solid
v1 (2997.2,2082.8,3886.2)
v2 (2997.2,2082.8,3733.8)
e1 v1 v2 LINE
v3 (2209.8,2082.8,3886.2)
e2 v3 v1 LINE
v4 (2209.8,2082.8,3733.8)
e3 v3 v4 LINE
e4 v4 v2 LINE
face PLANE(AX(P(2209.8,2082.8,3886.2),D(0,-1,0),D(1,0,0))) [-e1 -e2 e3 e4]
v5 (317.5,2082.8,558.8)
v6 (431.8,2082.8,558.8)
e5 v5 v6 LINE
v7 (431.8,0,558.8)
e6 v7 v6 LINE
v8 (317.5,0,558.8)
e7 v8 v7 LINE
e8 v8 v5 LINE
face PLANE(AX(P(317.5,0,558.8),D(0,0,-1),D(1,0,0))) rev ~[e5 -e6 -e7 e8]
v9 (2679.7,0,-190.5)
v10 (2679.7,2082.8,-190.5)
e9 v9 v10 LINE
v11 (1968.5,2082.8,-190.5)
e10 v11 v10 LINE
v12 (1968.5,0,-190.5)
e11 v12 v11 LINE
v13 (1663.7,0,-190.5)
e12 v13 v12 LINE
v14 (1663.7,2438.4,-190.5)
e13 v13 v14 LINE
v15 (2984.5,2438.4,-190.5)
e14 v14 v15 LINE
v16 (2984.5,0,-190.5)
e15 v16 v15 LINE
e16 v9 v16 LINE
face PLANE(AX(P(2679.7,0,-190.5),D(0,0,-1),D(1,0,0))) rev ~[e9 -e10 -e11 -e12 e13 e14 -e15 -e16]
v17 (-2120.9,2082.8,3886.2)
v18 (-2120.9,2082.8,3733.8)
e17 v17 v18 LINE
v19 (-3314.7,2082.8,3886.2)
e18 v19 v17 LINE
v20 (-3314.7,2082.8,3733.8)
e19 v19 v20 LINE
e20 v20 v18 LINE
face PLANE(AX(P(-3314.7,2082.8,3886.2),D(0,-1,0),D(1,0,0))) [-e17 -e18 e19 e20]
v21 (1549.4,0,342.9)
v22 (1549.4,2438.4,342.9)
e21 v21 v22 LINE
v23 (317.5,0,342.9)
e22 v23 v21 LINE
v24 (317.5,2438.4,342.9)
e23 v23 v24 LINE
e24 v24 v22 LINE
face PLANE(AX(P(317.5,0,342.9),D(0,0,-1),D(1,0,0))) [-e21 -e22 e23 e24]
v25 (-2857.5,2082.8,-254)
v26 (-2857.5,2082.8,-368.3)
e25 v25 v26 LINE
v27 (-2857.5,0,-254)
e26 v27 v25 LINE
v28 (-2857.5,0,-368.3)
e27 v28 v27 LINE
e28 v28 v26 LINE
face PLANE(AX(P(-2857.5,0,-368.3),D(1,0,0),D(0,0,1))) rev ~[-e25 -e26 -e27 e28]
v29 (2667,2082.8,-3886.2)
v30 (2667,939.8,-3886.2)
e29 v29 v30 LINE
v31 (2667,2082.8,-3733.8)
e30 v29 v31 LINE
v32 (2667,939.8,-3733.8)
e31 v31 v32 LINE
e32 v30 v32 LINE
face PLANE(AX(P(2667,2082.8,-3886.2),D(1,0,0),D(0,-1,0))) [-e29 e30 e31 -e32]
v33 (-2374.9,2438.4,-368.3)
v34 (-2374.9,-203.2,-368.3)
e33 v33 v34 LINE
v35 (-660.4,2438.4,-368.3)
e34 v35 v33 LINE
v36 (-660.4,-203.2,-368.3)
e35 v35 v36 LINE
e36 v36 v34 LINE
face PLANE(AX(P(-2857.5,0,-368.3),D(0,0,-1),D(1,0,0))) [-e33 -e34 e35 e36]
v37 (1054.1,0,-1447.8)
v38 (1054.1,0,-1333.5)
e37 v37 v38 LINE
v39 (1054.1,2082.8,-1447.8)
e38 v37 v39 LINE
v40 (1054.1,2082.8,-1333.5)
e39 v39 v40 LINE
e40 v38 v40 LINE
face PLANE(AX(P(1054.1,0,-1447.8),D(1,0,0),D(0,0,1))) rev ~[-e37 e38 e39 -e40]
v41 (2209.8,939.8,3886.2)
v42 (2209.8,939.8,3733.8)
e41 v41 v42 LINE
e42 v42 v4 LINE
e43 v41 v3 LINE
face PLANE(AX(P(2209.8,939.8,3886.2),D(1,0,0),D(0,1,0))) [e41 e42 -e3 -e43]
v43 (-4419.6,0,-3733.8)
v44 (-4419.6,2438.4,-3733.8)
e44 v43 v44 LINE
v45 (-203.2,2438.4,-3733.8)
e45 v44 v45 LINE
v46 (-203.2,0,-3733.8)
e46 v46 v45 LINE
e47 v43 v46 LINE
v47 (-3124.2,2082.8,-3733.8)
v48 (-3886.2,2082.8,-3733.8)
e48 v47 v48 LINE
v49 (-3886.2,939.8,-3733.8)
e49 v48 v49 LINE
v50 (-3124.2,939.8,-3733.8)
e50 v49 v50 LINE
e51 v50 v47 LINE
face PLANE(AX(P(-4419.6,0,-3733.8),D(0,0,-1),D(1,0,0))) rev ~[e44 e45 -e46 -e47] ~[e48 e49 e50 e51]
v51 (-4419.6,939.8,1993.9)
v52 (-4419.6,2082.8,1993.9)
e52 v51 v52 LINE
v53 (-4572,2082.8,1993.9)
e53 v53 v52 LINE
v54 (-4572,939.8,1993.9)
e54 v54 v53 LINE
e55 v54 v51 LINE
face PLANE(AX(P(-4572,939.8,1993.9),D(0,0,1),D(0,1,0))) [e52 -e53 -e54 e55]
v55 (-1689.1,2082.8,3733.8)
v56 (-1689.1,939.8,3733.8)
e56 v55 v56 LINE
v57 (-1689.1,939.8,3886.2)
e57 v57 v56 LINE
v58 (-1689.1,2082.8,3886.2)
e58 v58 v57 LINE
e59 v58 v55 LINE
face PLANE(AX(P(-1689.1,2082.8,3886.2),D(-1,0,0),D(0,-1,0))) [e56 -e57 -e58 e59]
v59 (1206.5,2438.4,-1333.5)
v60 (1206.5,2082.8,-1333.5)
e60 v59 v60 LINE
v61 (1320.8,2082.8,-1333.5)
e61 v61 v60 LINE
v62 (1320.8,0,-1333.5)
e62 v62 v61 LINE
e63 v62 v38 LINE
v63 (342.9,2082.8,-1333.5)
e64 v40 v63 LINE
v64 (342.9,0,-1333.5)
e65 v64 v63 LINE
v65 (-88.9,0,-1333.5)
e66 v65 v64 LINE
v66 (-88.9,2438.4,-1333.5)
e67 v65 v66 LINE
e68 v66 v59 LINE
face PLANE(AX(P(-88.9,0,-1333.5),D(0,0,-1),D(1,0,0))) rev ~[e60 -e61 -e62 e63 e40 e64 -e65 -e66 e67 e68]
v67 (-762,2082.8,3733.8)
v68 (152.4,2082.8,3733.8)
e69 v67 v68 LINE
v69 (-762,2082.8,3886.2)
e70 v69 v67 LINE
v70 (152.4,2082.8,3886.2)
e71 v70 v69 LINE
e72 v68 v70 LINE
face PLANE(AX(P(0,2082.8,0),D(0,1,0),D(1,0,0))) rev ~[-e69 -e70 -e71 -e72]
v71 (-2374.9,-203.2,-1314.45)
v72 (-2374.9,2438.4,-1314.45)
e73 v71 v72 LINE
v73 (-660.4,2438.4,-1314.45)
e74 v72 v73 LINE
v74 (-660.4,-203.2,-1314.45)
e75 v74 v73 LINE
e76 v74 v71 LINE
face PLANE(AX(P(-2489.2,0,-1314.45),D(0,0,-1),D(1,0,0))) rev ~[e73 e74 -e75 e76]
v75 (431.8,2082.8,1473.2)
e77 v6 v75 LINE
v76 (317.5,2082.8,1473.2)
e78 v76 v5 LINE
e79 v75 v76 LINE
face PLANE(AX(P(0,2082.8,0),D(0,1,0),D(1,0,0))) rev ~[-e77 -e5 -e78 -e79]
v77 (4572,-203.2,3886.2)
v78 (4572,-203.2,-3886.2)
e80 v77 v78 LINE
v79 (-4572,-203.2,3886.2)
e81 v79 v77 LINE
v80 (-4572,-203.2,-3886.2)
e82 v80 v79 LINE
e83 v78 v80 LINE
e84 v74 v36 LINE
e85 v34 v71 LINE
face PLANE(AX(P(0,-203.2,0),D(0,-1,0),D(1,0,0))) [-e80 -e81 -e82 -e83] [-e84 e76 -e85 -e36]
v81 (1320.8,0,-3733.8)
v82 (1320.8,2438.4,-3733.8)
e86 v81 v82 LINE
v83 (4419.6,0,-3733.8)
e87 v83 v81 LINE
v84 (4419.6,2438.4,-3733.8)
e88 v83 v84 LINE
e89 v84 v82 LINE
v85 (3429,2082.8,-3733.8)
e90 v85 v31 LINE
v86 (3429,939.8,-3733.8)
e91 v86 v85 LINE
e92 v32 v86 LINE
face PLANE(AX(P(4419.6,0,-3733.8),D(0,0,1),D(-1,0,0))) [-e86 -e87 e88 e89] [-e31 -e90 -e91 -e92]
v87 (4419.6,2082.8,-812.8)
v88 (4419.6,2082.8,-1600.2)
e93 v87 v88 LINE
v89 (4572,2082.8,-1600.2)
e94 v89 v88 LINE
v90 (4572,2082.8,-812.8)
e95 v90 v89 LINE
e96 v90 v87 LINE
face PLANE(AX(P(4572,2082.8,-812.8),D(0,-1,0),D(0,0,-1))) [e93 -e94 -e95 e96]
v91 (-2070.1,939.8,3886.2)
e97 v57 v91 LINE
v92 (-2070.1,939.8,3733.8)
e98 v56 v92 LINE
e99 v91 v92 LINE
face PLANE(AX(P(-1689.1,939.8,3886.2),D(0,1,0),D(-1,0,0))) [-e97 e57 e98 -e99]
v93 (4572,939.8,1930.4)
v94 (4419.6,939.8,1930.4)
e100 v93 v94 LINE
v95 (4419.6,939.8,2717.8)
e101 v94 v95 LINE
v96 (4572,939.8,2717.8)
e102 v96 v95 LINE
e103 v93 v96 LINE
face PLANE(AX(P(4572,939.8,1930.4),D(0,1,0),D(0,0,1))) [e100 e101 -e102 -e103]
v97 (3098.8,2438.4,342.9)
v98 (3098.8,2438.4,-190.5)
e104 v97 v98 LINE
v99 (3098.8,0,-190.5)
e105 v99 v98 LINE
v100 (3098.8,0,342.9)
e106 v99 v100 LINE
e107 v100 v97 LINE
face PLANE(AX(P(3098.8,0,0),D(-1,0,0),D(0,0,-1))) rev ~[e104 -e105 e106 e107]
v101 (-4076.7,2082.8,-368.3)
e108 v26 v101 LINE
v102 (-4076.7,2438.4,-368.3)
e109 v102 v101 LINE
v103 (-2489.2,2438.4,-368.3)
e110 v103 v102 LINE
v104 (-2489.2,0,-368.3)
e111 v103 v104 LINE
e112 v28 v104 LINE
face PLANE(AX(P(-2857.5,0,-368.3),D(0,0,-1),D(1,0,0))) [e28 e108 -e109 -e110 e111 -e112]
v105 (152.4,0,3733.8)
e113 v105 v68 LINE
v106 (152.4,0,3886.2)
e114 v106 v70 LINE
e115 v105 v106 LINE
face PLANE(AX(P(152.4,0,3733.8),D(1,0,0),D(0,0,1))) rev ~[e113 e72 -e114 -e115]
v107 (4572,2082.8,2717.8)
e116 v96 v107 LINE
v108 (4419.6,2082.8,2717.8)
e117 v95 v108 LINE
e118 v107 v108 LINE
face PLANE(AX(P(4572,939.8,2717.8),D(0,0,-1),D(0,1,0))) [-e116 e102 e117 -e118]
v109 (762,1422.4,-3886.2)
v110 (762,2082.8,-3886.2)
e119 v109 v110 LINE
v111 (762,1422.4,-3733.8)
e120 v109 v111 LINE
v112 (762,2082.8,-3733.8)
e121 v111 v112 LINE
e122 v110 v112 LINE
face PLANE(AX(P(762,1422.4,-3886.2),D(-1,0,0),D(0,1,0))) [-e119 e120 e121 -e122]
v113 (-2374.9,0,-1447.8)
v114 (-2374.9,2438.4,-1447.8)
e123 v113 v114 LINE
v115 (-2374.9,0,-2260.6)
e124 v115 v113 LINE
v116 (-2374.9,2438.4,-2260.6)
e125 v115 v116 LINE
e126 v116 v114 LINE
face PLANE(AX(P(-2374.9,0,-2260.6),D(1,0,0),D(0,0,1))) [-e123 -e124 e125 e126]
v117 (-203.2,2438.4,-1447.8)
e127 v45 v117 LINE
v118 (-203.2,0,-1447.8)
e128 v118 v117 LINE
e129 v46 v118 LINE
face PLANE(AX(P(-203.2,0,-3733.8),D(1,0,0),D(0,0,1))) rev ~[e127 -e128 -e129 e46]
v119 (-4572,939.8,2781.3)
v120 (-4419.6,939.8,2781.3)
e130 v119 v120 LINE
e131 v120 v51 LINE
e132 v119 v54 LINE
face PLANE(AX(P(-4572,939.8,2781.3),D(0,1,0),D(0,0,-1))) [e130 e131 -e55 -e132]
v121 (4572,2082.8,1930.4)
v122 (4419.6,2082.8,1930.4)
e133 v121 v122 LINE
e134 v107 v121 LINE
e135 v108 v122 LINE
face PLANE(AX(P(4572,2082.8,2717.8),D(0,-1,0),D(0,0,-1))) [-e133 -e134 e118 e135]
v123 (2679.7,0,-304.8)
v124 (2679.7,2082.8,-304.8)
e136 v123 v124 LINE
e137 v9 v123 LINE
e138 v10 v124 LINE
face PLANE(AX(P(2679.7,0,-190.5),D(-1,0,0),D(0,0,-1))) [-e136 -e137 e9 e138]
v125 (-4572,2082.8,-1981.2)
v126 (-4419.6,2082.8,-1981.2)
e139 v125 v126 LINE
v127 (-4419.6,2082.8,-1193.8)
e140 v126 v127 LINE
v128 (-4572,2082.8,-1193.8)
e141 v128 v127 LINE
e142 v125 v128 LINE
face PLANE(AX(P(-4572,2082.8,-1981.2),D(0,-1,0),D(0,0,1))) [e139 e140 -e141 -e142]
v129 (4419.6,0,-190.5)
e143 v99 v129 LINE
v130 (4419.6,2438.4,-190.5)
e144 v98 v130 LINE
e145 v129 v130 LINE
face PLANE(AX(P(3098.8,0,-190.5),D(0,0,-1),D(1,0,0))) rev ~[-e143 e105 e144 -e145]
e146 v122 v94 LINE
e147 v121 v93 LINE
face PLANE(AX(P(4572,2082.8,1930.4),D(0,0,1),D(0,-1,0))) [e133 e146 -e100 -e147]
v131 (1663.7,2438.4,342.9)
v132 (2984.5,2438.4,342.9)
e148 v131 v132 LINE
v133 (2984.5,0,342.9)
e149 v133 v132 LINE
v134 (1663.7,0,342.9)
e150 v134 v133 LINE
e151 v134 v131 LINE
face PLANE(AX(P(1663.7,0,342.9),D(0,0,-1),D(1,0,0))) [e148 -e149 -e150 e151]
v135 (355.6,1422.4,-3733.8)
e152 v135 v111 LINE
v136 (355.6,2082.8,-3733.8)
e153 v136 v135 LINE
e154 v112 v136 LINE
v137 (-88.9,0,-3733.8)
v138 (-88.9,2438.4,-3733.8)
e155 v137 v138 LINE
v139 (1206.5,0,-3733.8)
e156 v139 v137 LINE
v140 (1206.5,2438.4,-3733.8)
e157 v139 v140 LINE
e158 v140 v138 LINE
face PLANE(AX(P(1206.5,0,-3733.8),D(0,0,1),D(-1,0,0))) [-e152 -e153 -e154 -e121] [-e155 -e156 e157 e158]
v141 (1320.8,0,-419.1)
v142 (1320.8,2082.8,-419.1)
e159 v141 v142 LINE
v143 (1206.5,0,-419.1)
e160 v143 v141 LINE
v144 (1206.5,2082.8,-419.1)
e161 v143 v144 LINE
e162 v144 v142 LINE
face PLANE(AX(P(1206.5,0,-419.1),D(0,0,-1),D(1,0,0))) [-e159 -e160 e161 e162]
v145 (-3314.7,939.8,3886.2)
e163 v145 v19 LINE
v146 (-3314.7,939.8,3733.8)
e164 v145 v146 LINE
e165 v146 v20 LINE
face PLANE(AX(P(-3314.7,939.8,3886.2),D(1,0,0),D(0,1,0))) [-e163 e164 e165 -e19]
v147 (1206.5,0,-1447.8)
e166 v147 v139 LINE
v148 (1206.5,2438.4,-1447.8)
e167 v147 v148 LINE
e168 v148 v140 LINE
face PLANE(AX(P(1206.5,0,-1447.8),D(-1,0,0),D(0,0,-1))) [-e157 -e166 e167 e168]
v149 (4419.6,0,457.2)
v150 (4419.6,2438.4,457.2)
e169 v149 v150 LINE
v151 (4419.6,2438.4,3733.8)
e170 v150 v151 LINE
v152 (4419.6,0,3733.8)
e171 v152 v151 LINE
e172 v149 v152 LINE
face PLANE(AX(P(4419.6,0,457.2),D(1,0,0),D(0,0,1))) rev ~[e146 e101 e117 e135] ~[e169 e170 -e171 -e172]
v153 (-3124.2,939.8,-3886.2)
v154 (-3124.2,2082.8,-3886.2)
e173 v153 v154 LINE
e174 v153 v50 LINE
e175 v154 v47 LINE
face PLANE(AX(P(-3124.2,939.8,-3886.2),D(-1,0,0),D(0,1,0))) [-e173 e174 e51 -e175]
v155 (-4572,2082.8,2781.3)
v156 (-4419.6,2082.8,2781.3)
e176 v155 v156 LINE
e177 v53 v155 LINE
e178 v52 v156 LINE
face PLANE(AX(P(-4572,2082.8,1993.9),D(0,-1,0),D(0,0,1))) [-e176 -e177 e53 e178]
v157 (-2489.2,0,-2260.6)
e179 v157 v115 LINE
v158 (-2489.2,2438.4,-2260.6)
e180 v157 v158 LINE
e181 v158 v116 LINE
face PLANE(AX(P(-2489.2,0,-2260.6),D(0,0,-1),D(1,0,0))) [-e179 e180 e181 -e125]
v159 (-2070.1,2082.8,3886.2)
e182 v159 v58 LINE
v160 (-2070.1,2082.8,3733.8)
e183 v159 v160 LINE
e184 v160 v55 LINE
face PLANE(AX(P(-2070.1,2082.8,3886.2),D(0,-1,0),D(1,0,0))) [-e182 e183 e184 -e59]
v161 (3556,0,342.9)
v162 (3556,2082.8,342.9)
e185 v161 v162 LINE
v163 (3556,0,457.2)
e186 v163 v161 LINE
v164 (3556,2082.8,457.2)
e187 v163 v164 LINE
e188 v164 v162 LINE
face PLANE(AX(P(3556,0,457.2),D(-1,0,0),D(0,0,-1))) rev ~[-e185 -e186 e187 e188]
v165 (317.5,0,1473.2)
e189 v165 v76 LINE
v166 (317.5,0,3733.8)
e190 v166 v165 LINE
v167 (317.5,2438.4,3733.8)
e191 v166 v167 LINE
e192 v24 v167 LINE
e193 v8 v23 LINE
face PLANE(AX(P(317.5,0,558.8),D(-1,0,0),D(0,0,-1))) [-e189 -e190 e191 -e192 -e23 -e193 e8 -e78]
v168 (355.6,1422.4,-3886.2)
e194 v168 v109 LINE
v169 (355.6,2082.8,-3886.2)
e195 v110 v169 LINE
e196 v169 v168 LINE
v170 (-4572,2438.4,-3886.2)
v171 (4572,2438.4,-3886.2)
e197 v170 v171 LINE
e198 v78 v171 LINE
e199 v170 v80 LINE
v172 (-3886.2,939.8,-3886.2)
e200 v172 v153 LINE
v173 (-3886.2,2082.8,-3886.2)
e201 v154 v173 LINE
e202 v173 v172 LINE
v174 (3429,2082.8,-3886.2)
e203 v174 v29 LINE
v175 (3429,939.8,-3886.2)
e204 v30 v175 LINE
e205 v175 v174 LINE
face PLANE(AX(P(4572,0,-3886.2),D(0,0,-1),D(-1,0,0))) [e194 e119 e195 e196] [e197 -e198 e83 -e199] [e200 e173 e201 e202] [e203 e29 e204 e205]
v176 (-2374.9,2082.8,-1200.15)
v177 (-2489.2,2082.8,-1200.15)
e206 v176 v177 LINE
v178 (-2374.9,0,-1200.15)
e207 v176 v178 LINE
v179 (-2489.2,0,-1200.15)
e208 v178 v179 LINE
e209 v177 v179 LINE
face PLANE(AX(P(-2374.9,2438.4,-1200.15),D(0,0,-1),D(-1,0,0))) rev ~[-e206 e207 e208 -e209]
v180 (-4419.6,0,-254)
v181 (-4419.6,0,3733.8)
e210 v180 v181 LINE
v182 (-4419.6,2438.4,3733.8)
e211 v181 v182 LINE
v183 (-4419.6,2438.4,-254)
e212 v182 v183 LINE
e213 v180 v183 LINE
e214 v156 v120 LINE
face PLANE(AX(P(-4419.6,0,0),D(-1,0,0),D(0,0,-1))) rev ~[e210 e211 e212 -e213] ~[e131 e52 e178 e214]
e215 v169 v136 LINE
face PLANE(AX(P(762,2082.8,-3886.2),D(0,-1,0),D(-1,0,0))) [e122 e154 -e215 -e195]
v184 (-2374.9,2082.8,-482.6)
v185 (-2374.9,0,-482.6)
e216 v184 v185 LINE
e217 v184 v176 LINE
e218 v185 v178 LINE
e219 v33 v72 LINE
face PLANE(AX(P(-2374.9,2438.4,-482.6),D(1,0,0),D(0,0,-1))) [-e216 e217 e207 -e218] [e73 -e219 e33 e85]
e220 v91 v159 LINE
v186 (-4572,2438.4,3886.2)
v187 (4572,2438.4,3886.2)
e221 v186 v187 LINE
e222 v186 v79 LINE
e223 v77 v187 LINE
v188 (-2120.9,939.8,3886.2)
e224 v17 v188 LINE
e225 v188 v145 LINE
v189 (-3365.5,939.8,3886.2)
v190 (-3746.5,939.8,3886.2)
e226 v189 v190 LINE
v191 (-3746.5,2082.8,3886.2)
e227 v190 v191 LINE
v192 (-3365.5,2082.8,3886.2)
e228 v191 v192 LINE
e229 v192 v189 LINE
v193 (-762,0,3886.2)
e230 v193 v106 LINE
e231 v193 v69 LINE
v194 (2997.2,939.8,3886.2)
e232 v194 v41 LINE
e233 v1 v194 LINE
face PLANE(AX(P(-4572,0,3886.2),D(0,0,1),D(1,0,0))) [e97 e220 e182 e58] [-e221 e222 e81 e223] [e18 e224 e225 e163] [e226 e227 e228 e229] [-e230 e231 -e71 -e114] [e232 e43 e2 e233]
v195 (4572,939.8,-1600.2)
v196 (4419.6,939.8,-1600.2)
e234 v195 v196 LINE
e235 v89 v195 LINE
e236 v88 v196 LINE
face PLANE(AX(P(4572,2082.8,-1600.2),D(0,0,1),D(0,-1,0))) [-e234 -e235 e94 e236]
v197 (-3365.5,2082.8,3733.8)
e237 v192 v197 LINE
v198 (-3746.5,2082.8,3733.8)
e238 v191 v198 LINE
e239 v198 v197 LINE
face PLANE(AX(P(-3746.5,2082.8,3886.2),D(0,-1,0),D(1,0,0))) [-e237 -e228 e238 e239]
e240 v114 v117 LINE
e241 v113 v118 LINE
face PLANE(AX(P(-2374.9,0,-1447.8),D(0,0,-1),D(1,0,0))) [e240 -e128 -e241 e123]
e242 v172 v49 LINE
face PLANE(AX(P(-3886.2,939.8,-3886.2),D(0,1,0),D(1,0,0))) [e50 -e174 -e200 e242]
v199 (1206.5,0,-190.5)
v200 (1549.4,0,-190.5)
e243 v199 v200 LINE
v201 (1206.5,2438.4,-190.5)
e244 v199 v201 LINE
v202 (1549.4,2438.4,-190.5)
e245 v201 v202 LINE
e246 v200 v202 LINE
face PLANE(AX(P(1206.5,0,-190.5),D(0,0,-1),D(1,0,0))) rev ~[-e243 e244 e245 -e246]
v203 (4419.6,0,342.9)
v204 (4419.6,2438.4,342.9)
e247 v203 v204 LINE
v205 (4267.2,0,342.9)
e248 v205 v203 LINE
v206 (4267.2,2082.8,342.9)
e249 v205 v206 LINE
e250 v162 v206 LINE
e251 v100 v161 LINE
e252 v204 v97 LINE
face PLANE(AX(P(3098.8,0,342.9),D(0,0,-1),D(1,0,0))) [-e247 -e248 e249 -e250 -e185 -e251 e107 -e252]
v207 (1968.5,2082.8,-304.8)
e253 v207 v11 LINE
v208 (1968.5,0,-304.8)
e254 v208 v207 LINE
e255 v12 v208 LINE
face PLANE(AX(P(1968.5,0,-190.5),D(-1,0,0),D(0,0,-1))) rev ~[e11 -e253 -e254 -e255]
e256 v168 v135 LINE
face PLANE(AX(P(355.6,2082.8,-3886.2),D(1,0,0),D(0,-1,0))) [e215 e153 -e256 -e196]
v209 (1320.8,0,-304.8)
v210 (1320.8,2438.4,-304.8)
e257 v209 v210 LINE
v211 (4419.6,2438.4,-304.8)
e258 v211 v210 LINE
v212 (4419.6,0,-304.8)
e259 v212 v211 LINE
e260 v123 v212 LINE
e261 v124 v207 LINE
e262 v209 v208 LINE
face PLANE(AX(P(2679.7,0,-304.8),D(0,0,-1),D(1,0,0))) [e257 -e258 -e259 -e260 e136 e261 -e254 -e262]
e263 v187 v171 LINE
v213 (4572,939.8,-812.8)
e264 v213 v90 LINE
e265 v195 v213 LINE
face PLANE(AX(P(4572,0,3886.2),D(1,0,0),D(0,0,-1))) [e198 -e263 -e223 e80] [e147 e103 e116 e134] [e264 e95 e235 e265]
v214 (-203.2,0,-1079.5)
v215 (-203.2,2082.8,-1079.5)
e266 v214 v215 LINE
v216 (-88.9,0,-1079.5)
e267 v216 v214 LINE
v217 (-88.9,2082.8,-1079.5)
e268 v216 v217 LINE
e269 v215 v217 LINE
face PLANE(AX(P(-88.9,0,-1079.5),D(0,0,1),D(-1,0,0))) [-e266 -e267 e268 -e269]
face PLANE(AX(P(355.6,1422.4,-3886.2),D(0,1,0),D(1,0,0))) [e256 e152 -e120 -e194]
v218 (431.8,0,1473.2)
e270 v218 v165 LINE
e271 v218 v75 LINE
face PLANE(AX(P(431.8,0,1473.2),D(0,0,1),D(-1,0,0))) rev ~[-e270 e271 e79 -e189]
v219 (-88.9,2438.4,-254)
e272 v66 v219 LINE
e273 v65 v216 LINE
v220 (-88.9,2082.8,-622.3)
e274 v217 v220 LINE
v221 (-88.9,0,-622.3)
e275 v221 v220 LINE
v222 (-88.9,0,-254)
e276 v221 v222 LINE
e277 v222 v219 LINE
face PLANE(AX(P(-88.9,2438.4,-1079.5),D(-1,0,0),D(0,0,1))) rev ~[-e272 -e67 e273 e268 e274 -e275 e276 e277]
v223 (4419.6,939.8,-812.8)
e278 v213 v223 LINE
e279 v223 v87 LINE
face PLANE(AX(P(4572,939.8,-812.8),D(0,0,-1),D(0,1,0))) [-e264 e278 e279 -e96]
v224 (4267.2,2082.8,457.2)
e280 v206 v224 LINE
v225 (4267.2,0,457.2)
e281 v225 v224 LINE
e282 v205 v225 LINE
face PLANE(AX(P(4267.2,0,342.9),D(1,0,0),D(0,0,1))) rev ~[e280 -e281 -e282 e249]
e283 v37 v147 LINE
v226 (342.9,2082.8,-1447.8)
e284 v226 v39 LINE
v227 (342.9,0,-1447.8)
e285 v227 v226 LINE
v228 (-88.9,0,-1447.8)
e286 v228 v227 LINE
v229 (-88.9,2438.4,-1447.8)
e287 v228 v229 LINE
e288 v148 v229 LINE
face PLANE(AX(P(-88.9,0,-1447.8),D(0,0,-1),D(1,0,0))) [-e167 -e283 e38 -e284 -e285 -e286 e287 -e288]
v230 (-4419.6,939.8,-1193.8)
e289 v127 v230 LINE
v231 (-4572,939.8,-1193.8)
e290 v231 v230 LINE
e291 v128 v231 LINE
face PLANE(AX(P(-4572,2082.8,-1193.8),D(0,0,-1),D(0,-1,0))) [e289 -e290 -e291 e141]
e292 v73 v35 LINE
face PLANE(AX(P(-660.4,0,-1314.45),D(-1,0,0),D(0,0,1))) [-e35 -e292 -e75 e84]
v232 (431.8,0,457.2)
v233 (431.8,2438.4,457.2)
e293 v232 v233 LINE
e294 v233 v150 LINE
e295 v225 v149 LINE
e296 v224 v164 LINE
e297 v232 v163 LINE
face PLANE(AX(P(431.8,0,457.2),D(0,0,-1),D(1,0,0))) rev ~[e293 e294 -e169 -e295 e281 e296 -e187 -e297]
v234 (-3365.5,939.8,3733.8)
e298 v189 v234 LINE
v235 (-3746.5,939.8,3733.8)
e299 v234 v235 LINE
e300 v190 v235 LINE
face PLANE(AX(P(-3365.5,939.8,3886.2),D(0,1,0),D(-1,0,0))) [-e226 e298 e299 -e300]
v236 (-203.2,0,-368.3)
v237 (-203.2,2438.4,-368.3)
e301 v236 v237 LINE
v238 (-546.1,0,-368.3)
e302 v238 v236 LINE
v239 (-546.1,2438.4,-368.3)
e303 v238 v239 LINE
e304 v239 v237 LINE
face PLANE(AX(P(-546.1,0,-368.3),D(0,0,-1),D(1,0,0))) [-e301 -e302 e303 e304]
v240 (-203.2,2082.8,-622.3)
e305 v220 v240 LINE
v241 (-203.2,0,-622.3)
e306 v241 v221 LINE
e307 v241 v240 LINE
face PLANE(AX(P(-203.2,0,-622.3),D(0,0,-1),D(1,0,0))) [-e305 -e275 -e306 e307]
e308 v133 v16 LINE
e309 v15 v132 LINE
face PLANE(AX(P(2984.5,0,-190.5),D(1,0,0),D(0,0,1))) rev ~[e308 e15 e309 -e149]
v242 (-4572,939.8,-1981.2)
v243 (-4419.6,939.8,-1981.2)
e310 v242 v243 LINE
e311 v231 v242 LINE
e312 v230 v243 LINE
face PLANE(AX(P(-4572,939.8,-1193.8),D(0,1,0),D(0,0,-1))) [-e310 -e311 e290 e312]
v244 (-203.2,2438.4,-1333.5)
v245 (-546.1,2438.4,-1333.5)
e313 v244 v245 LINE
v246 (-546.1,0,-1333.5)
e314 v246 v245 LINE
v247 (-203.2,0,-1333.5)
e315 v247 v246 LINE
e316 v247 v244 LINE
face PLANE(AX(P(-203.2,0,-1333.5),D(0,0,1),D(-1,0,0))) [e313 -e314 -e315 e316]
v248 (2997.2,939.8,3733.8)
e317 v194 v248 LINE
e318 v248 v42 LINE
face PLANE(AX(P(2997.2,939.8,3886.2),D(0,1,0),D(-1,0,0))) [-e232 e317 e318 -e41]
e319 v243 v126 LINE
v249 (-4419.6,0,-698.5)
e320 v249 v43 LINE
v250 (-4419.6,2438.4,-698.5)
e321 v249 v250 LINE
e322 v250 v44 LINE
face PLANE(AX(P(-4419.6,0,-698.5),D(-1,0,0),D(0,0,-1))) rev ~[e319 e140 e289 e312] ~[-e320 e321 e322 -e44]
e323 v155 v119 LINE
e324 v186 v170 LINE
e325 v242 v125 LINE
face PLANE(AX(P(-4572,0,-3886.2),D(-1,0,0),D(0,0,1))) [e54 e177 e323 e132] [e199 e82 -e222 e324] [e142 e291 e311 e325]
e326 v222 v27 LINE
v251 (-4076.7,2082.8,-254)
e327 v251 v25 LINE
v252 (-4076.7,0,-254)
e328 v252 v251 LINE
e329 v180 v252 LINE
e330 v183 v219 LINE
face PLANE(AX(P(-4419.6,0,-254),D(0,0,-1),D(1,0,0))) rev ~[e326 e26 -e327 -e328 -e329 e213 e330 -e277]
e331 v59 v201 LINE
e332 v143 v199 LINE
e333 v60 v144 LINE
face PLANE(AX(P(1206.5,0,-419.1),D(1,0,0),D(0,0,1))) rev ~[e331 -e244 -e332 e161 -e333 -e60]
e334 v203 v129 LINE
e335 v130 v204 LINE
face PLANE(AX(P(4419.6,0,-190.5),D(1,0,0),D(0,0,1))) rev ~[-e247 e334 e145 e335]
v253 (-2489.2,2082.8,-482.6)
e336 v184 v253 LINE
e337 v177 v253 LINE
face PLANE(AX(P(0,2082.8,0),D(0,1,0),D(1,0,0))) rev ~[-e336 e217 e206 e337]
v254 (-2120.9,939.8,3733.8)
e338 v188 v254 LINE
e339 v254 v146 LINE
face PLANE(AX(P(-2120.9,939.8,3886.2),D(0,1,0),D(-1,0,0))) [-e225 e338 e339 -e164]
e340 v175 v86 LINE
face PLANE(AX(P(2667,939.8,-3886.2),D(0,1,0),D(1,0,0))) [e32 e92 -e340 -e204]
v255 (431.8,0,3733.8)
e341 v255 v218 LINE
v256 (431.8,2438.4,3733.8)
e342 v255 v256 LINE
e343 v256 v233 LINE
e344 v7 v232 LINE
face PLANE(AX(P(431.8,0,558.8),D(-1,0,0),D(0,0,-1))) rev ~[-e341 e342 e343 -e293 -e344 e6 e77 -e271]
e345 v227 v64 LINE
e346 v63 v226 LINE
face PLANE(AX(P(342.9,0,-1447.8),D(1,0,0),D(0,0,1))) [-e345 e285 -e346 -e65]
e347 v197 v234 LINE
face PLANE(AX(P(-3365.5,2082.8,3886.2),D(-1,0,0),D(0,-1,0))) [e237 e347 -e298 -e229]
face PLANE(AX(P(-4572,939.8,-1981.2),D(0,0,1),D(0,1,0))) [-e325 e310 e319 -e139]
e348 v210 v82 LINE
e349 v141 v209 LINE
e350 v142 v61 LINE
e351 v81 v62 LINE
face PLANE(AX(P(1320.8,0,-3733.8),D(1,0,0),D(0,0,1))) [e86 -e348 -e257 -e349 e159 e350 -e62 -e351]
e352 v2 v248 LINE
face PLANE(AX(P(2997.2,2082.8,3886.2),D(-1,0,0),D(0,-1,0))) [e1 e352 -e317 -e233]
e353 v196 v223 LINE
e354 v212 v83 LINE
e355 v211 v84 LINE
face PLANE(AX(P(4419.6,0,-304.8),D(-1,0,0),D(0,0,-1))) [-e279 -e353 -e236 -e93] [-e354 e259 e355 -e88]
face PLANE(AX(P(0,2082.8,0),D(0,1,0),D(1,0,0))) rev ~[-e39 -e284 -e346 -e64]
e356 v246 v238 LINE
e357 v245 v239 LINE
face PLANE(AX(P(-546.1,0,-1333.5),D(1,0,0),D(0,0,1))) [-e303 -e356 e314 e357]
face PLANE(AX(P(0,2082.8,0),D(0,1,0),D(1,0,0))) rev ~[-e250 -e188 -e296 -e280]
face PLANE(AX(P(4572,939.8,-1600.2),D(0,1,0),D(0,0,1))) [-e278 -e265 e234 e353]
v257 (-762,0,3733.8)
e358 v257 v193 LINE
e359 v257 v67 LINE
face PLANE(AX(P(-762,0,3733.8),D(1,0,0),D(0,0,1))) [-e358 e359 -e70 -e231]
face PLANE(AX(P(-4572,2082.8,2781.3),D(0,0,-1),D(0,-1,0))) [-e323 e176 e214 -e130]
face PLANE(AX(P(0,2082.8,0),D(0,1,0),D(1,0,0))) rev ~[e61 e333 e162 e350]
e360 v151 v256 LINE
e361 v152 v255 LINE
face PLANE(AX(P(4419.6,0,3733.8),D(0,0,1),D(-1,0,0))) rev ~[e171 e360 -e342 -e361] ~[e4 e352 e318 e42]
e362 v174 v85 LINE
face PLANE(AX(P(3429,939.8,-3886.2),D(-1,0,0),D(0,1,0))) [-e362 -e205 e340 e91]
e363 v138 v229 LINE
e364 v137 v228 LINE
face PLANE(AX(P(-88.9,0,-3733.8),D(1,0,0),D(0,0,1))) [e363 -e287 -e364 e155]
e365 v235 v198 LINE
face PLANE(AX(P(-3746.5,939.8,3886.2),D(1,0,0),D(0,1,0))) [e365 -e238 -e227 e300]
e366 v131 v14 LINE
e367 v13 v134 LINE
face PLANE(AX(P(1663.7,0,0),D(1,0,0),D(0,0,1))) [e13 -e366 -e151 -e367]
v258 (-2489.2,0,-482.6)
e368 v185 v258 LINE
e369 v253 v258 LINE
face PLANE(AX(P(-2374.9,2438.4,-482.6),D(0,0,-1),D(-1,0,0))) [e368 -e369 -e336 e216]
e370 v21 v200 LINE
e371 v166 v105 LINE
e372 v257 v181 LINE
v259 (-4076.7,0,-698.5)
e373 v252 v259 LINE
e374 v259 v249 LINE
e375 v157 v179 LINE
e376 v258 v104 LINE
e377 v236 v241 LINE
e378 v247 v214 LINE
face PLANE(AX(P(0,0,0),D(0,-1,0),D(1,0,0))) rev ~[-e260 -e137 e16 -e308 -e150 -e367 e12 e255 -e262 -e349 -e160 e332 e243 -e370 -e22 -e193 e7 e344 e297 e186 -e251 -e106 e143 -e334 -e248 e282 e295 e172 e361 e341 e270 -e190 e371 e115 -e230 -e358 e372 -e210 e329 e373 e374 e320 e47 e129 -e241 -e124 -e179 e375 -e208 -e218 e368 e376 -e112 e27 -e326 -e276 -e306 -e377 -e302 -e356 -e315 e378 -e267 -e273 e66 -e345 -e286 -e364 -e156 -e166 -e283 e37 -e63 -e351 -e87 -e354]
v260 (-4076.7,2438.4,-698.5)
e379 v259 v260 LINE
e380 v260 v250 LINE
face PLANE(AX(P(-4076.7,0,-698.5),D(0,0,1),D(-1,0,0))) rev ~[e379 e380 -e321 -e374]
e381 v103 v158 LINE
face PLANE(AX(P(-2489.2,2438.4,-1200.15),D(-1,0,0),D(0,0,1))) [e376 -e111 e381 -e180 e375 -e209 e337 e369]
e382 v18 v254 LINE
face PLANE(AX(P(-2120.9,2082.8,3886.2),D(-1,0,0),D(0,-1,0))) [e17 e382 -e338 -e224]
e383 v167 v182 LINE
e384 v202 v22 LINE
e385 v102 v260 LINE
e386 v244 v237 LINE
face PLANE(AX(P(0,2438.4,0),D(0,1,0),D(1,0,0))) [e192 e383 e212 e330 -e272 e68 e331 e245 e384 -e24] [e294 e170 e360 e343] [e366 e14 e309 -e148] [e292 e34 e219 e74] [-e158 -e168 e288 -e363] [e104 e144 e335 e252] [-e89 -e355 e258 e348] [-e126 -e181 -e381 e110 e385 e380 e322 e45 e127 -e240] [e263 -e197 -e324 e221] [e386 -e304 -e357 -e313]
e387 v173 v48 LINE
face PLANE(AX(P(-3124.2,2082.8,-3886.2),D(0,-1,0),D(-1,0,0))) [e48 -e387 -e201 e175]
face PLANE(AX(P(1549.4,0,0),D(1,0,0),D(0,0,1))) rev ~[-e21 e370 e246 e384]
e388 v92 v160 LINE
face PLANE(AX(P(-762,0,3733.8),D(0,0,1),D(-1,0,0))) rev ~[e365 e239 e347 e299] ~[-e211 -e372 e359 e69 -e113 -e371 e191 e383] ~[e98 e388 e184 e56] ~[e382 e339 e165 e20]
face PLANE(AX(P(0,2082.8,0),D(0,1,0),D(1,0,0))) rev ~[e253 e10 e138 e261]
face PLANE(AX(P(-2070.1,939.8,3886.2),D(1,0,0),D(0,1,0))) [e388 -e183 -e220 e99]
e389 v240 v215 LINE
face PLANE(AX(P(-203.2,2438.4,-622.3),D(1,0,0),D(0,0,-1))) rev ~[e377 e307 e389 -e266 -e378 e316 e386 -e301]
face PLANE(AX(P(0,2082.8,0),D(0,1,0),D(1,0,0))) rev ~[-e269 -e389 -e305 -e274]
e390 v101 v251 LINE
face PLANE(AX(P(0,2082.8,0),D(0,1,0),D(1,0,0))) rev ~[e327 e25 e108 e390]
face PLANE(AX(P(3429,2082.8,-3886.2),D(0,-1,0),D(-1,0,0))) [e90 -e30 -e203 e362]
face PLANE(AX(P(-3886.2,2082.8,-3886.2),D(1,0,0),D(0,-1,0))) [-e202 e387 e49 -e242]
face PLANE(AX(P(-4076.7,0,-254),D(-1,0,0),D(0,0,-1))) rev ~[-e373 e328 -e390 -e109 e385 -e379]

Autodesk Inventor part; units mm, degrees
ref_plane "YZ Plane" through (0, 0, 0) normal (1, 0, 0) x (0, 1, 0)
ref_plane "XZ Plane" through (0, 0, 0) normal (0, 1, 0) x (-1, 0, 0)
ref_plane "XY Plane" through (0, 0, 0) normal (0, 0, 1) x (1, 0, 0)
sketch "Sketch1" plane through (0, 0, 0) normal (0, 1, 0) x (-1, 0, 0)
  line L0 (6400.8, 0) -> (-6400.8, 0) projected
  line L1 (4572, 3886.2) -> (4572, -3886.2)
  line L2 (4572, -3886.2) -> (-4572, -3886.2)
  line L3 (-4572, -3886.2) -> (-4572, 3886.2)
  line L4 (-4419.6, 3733.8) -> (-431.8, 3733.8)
  line L5 (-4419.6, 457.2) -> (-4419.6, 3733.8)
  line L6 (-4419.6, 3733.8) -> (-431.8, 3733.8)
  line L7 (-4419.6, 457.2) -> (-4419.6, 3733.8)
  line L8 (-4267.2, 342.9) -> (-4267.2, 457.2)
  line L9 (-3556, 457.2) -> (-3556, 342.9)
  line L10 (-4267.2, 342.9) -> (-4419.6, 342.9)
  line L11 (-431.8, 457.2) -> (-3556, 457.2)
  line L12 (-4267.2, 457.2) -> (-4419.6, 457.2)
  line L13 (-4419.6, -3733.8) -> (-1320.8, -3733.8)
  line L14 (-4419.6, -304.8) -> (-4419.6, -3733.8)
  line L15 (-4419.6, -3733.8) -> (-1320.8, -3733.8)
  line L16 (-4419.6, -304.8) -> (-4419.6, -3733.8)
  line L17 (-3098.8, 342.9) -> (-3098.8, -190.5)
  line L18 (-2679.7, -190.5) -> (-2679.7, -304.8)
  line L19 (-1968.5, -190.5) -> (-1968.5, -304.8)
  line L20 (-1663.7, -190.5) -> (-1663.7, 342.9)
  line L21 (-1549.4, -190.5) -> (-1549.4, 342.9)
  line L22 (-1320.8, -304.8) -> (-1968.5, -304.8)
  line L23 (-2679.7, -304.8) -> (-4419.6, -304.8)
  line L24 (-2984.5, -190.5) -> (-2984.5, 342.9)
  line L25 (-317.5, 342.9) -> (-1549.4, 342.9)
  line L26 (-1206.5, -190.5) -> (-1549.4, -190.5)
  line L27 (-1663.7, -190.5) -> (-1968.5, -190.5)
  line L28 (-1663.7, 342.9) -> (-2984.5, 342.9)
  line L29 (-3098.8, 342.9) -> (-3556, 342.9)
  line L30 (-2679.7, -190.5) -> (-2984.5, -190.5)
  line L31 (-3098.8, -190.5) -> (-4419.6, -190.5)
  line L32 (-1206.5, -3733.8) -> (88.9, -3733.8)
  line L33 (88.9, -3733.8) -> (88.9, -1447.8)
  line L34 (-1206.5, -1447.8) -> (-1206.5, -3733.8)
  line L35 (-1206.5, -3733.8) -> (88.9, -3733.8)
  line L36 (-1206.5, -1447.8) -> (-1206.5, -3733.8)
  line L37 (-1054.1, -1447.8) -> (-1054.1, -1333.5)
  line L38 (-342.9, -1447.8) -> (-342.9, -1333.5)
  line L39 (88.9, -1447.8) -> (-342.9, -1447.8)
  line L40 (-1054.1, -1447.8) -> (-1206.5, -1447.8)
  line L41 (88.9, -1333.5) -> (-342.9, -1333.5)
  line L42 (-1054.1, -1333.5) -> (-1206.5, -1333.5)
  line L43 (88.9, -1333.5) -> (88.9, -1079.5)
  line L44 (88.9, -1079.5) -> (203.2, -1079.5)
  line L45 (88.9, -254) -> (2857.5, -254)
  line L46 (762, 3733.8) -> (762, 3886.2)
  line L47 (-152.4, 3733.8) -> (-152.4, 3886.2)
  line L48 (546.1, -1333.5) -> (546.1, -368.3)
  line L49 (660.4, -1333.5) -> (660.4, -368.3)
  line L50 (2374.9, -1447.8) -> (203.2, -1447.8)
  line L51 (203.2, -3733.8) -> (203.2, -1447.8)
  line L52 (203.2, -1333.5) -> (203.2, -1079.5)
  line L53 (203.2, -1333.5) -> (546.1, -1333.5)
  line L54 (660.4, -1333.5) -> (2374.9, -1333.5)
  line L55 (546.1, -368.3) -> (203.2, -368.3)
  line L56 (203.2, -368.3) -> (203.2, -622.3)
  line L57 (203.2, -622.3) -> (88.9, -622.3)
  line L58 (88.9, -622.3) -> (88.9, -254)
  line L59 (2489.2, -2260.6) -> (2374.9, -2260.6)
  line L60 (2374.9, -2260.6) -> (2374.9, -1447.8)
  line L61 (4076.7, -254) -> (4076.7, -698.5)
  line L62 (4076.7, -698.5) -> (4419.6, -698.5)
  line L63 (4419.6, -698.5) -> (4419.6, -3733.8)
  line L64 (4419.6, 3733.8) -> (4419.6, -254)
  line L65 (-431.8, 1473.2) -> (-317.5, 1473.2)
  line L66 (-317.5, 558.8) -> (-431.8, 558.8)
  line L67 (-431.8, 3733.8) -> (-431.8, 1473.2)
  line L68 (-431.8, 558.8) -> (-431.8, 457.2)
  line L69 (-317.5, 3733.8) -> (-317.5, 1473.2)
  line L70 (-317.5, 558.8) -> (-317.5, 342.9)
  line L71 (-4419.6, 3733.8) -> (-431.8, 3733.8)
  line L72 (-317.5, 3733.8) -> (-152.4, 3733.8)
  line L73 (762, 3733.8) -> (4419.6, 3733.8)
  line L74 (-4572, 3886.2) -> (-152.4, 3886.2)
  line L75 (762, 3886.2) -> (4572, 3886.2)
  line L76 (4419.6, -3733.8) -> (203.2, -3733.8)
  line L77 (88.9, -3733.8) -> (-1206.5, -3733.8)
  line L78 (-1320.8, -3733.8) -> (-4419.6, -3733.8)
  line L79 (-4419.6, -3733.8) -> (-4419.6, -304.8)
  line L80 (-4419.6, -190.5) -> (-4419.6, 342.9)
  line L81 (-4419.6, 457.2) -> (-4419.6, 3733.8)
  line L82 (-1206.5, -3733.8) -> (-1206.5, -1447.8)
  line L83 (-1206.5, -419.1) -> (-1206.5, -190.5)
  line L84 (-1206.5, -1333.5) -> (-1320.8, -1333.5)
  line L85 (-1206.5, -419.1) -> (-1320.8, -419.1)
  line L86 (-1320.8, -3733.8) -> (-1320.8, -1333.5)
  line L87 (-1320.8, -419.1) -> (-1320.8, -304.8)
  line L88 (-342.9, -1333.5) -> (88.9, -1333.5)
  line L89 (88.9, -1447.8) -> (-342.9, -1447.8)
  line L90 (-342.9, -1447.8) -> (-342.9, -1333.5)
  line L91 (88.9, -1447.8) -> (88.9, -3733.8)
  line L92 (203.2, -3784.6) -> (203.2, -1447.8)
  line L93 (-1320.8, -3733.8) -> (-1320.8, -1333.5)
  line L94 (-1320.8, -1333.5) -> (-1206.5, -1333.5)
  line L95 (-1206.5, -1447.8) -> (-1206.5, -3733.8)
  line L96 (-1320.8, -1333.5) -> (-1054.1, -1333.5)
  line L97 (-1054.1, -1333.5) -> (-1054.1, -1447.8)
  line L98 (-1054.1, -1447.8) -> (-1206.5, -1447.8)
  line L99 (-1320.8, -1397) -> (-1320.8, -1333.5)
  line L100 (-4419.6, -3733.8) -> (-4572, -3733.8)
  line L101 (-4572, -3733.8) -> (-4572, -190.5)
  line L102 (-4419.6, -304.8) -> (-4419.6, -3733.8)
  line L103 (-2679.7, -190.5) -> (-2679.7, -304.8)
  line L104 (-2679.7, -304.8) -> (-4419.6, -304.8)
  line L105 (-4419.6, -304.8) -> (-4419.6, -190.5)
  line L106 (-4419.6, -190.5) -> (-3098.8, -190.5)
  line L107 (-2984.5, -190.5) -> (-2679.7, -190.5)
  line L108 (-431.8, 3733.8) -> (-4419.6, 3733.8)
  line L109 (2857.5, -368.3) -> (2857.5, -254)
  line L110 (4419.6, -254) -> (4076.7, -254)
  line L111 (2489.2, -2260.6) -> (2489.2, -1333.5)
  line L112 (2374.9, -1333.5) -> (2374.9, -368.3)
  line L113 (2489.2, -368.3) -> (2489.2, -1333.5)
  line L114 (2857.5, -368.3) -> (2489.2, -368.3)
  line L115 (2374.9, -368.3) -> (660.4, -368.3)
  point P0 (0, 0)
  point P1 (-1663.7, -304.8)
  dimension "d0" = 7772.4
  dimension "d2" = 9144
  dimension "d3" = 7467.6
  dimension "d11" = 711.2
  dimension "d19" = 711.2
  dimension "d21" = 114.3
  dimension "d22" = 114.3
  dimension "d29" = 711.2
  dimension "d34" = 3810
  dimension "d35" = 914.4
  dimension "d40" = 114.3
  dimension "d42" = 114.3
  dimension "d48" = 114.3
  dimension "d52" = 114.3
  dimension "d61" = 114.3
  dimension "d117" = 152.4
  dimension "d118" = 152.4
  dimension "d119" = 152.4
  dimension "d120" = 152.4
  dimension "d121" = 152.4
  dimension "d122" = 152.4
  dimension "d123" = 152.4
  dimension "d124" = 114.3
  dimension "d125" = 114.3
  dimension "d126" = 114.3
  dimension "d127" = 114.3
  dimension "d128" = 114.3
  dimension "d129" = 114.3
  dimension "d131" = 114.3
  dimension "d133" = 114.3
  dimension "d134" = 114.3
  dimension "d135" = 152.4
  dimension "d138" = 152.4
  dimension "d139" = 3429
  dimension "d140" = 3276.6
  dimension "d141" = 3276.6
  dimension "d142" = 3987.8
  dimension "d148" = 4216.4
  dimension "d149" = 114.3
  dimension "d154" = 457.2
  dimension "d155" = 254
  dimension "d160" = 342.9
  dimension "d162" = 1320.8
  dimension "d164" = 304.8
  dimension "d165" = 1320.8
  dimension "d166" = 152.4
  dimension "d170" = 114.3
  dimension "d172" = 914.4
  dimension "d173" = 152.4
  dimension "d174" = 914.4
  dimension "d175" = 114.3
  dimension "d176" = 114.3
  dimension "d177" = 3098.8
  dimension "d238" = 3911.6
  dimension "d241" = 3479.8
  dimension "d243" = 1219.2
  dimension "d246" = 444.5
  dimension "d247" = 1714.5
  dimension "d248" = 965.2
extrude "Extrusion8" add sketch "Sketch1" along normal blind 2438.4 contours L1 L2 L3 L100 L13 L86 L84 L42 L37 L40 L34 L32 L33 L39 L38 L41 L43 L44 L52 L53 L48 L55 L56 L57 L58 L45 L109 L114 L113 L111 L59 L60 L50 L51 L76 L63 L62 L61 L110 L64 L0 | L0 L64 L73 L46 L75 L1 | L21 L26 L83 L85 L87 L22 L19 L27 L20 L0 | L0 L20 L28 L24 L17 L29 L9 L11 L68 L66 L70 L25 L21 | L3 L0 L80 L105 L14 L100 | L24 L30 L18 L23 L105 L31 L17 L0 | L3 L74 L47 L72 L69 L65 L67 L4 L5 L12 L8 L10 L80 L0 | L49 L115 L112 L54
sketch "Sketch10" plane through (4572, 2438.4, 3886.2) normal (1, 0, 0) x (0, 0, -1)
  line L0 (7772.4, -2438.4) -> (7772.4, 0) projected
  line L1 (0, 0) -> (7772.4, 0) projected
  line L2 (0, -2438.4) -> (0, 0) projected
  line L3 (4699, -355.6) -> (5486.4, -355.6)
  line L4 (5486.4, -355.6) -> (5486.4, -1498.6)
  line L5 (5486.4, -1498.6) -> (4699, -1498.6)
  line L6 (4699, -1498.6) -> (4699, -355.6)
  line L7 (1168.4, -355.6) -> (1955.8, -355.6)
  line L8 (1955.8, -355.6) -> (1955.8, -1498.6)
  line L9 (1955.8, -1498.6) -> (1168.4, -1498.6)
  line L10 (1168.4, -1498.6) -> (1168.4, -355.6)
  point P0 (7772.4, -2641.6)
  point P1 (0, -2641.6)
  point P2 (3886.2, -2438.4)
  dimension "d184" = 355.6
  dimension "d185" = 1168.4
  dimension "d186" = 787.4
  dimension "d187" = 1143
  dimension "d188" = 1143
  dimension "d189" = 787.4
  dimension "d190" = 2286
extrude "Extrusion11" cut sketch "Sketch10" against normal blind 152.4
sketch "Sketch11" plane through (-4572, 2438.4, 3886.2) normal (0, 0, 1) x (1, 0, 0)
  line L0 (9144, -2438.4) -> (9144, 0) projected
  line L1 (0, -2438.4) -> (0, 0) projected
  line L2 (6781.8, -355.6) -> (7569.2, -355.6)
  line L3 (7569.2, -355.6) -> (7569.2, -1498.6)
  line L4 (7569.2, -1498.6) -> (6781.8, -1498.6)
  line L5 (6781.8, -1498.6) -> (6781.8, -355.6)
  line L6 (774.7, -355.6) -> (2933.7, -355.6)
  line L7 (2933.7, -355.6) -> (2933.7, -1498.6)
  line L8 (2933.7, -1498.6) -> (774.7, -1498.6)
  line L9 (774.7, -1498.6) -> (774.7, -355.6)
  line L10 (1257.3, -355.6) -> (2451.1, -355.6)
  line L11 (2451.1, -355.6) -> (2451.1, -1498.6)
  line L12 (2451.1, -1498.6) -> (1257.3, -1498.6)
  line L13 (1257.3, -1498.6) -> (1257.3, -355.6)
  line L14 (825.5, -355.6) -> (1206.5, -355.6)
  line L15 (1206.5, -355.6) -> (1206.5, -1498.6)
  line L16 (1206.5, -1498.6) -> (825.5, -1498.6)
  line L17 (825.5, -1498.6) -> (825.5, -355.6)
  line L18 (1257.3, -355.6) -> (2451.1, -355.6)
  line L19 (2451.1, -355.6) -> (2451.1, -1498.6)
  line L20 (2451.1, -1498.6) -> (1257.3, -1498.6)
  line L21 (1257.3, -1498.6) -> (1257.3, -355.6)
  line L22 (2501.9, -355.6) -> (2882.9, -355.6)
  line L23 (2882.9, -355.6) -> (2882.9, -1498.6)
  line L24 (2882.9, -1498.6) -> (2501.9, -1498.6)
  line L25 (2501.9, -1498.6) -> (2501.9, -355.6)
  line L26 (4724.4, 0) -> (9144, 0) projected
  point P0 (9144, -2641.6)
  point P1 (0, -2641.6)
  point P2 (4572, -2438.4)
  dimension "d193" = 1574.8
  dimension "d194" = 787.4
  dimension "d195" = 1143
  dimension "d196" = 1193.8
  dimension "d197" = 2159
  dimension "d199" = 482.6
  dimension "d200" = 774.7
  dimension "d203" = 50.8
  dimension "d204" = 50.8
  dimension "d205" = 0
  dimension "d206" = 0
  dimension "d207" = 0
  dimension "d208" = 0
  dimension "d209" = 50.8
  dimension "d210" = 50.8
  dimension "d252" = 355.6
extrude "Extrusion12" cut sketch "Sketch11" against normal blind 152.4 contours L2 L3 L4 L5 | L6 L15 L8 L17 | L6 L11 L8 L13 | L6 L23 L8 L25
sketch "Sketch12" plane through (-4572, 2438.4, -3886.2) normal (-1, 0, 0) x (0, 0, 1)
  line L0 (7772.4, -2438.4) -> (7772.4, 0) projected
  line L1 (0, 0) -> (7772.4, 0) projected
  line L2 (0, -2438.4) -> (0, 0) projected
  line L3 (1905, -355.6) -> (2692.4, -355.6)
  line L4 (2692.4, -355.6) -> (2692.4, -1498.6)
  line L5 (2692.4, -1498.6) -> (1905, -1498.6)
  line L6 (1905, -1498.6) -> (1905, -355.6)
  line L7 (5880.1, -355.6) -> (6667.5, -355.6)
  line L8 (6667.5, -355.6) -> (6667.5, -1498.6)
  line L9 (6667.5, -1498.6) -> (5880.1, -1498.6)
  line L10 (5880.1, -1498.6) -> (5880.1, -355.6)
  point P0 (7772.4, -2641.6)
  point P1 (0, -2641.6)
  point P2 (3886.2, -2438.4)
  dimension "d213" = 355.6
  dimension "d214" = 787.4
  dimension "d215" = 787.4
  dimension "d216" = 1143
  dimension "d217" = 1104.9
  dimension "d218" = 1905
extrude "Extrusion13" cut sketch "Sketch12" against normal blind 152.4
sketch "Sketch13" plane through (4572, 2438.4, -3886.2) normal (0, 0, -1) x (-1, 0, 0)
  line L0 (9144, -2438.4) -> (9144, 0) projected
  line L1 (0, 0) -> (9144, 0) projected
  line L2 (0, -2438.4) -> (0, 0) projected
  line L3 (1143, -355.6) -> (1905, -355.6)
  line L4 (1905, -355.6) -> (1905, -1498.6)
  line L5 (1905, -1498.6) -> (1143, -1498.6)
  line L6 (1143, -1498.6) -> (1143, -355.6)
  line L7 (7696.2, -355.6) -> (8458.2, -355.6)
  line L8 (8458.2, -355.6) -> (8458.2, -1498.6)
  line L9 (8458.2, -1498.6) -> (7696.2, -1498.6)
  line L10 (7696.2, -1498.6) -> (7696.2, -355.6)
  line L11 (3810, -355.6) -> (4216.4, -355.6)
  line L12 (4216.4, -355.6) -> (4216.4, -1016)
  line L13 (4216.4, -1016) -> (3810, -1016)
  line L14 (3810, -1016) -> (3810, -355.6)
  point P0 (9144, -2641.6)
  point P1 (0, -2641.6)
  point P2 (4572, -2438.4)
  dimension "d221" = 762
  dimension "d223" = 355.6
  dimension "d224" = 1143
  dimension "d225" = 685.8
  dimension "d226" = 762
  dimension "d227" = 1143
  dimension "d228" = 406.4
  dimension "d229" = 660.4
  dimension "d230" = 3810
extrude "Extrusion14" cut sketch "Sketch13" against normal blind 152.4
sketch "Sketch14" plane through (0, 0, 0) normal (0, -1, 0) x (1, 0, 0)
  line L0 (-546.1, -368.3) -> (-546.1, -1333.5) projected
  line L1 (-2489.2, -2260.6) -> (-2489.2, -368.3) projected
  line L2 (-660.4, -368.3) -> (-2489.2, -368.3)
  line L3 (-2489.2, -368.3) -> (-2489.2, -1314.45)
  line L4 (-2489.2, -1314.45) -> (-660.4, -1314.45)
  line L5 (-660.4, -1314.45) -> (-660.4, -368.3)
  point P0 (0, 0)
  dimension "d249" = 114.3
extrude "Extrusion15" cut sketch "Sketch14" against normal blind 2438.4
sketch "Sketch15" plane through (0, 2438.4, 0) normal (0, 1, 0) x (1, 0, 0)
  line L0 (-4076.7, 254) -> (-2857.5, 254)
  line L1 (-2857.5, 254) -> (-2857.5, 368.3)
  line L2 (-2857.5, 368.3) -> (-4076.7, 368.3)
  line L3 (-4076.7, 368.3) -> (-4076.7, 254)
  line L4 (-203.2, 622.3) -> (-88.9, 622.3)
  line L5 (-88.9, 622.3) -> (-88.9, 1079.5)
  line L6 (-88.9, 1079.5) -> (-203.2, 1079.5)
  line L7 (-203.2, 1079.5) -> (-203.2, 622.3)
  line L8 (317.5, -558.8) -> (431.8, -558.8)
  line L9 (431.8, -558.8) -> (431.8, -1473.2)
  line L10 (431.8, -1473.2) -> (317.5, -1473.2)
  line L11 (317.5, -1473.2) -> (317.5, -558.8)
  line L12 (1968.5, 190.5) -> (2679.7, 190.5)
  line L13 (2679.7, 190.5) -> (2679.7, 304.8)
  line L14 (2679.7, 304.8) -> (1968.5, 304.8)
  line L15 (1968.5, 304.8) -> (1968.5, 190.5)
  line L16 (1206.5, 419.1) -> (1320.8, 419.1)
  line L17 (1320.8, 419.1) -> (1320.8, 1333.5)
  line L18 (1320.8, 1333.5) -> (1206.5, 1333.5)
  line L19 (1206.5, 1333.5) -> (1206.5, 419.1)
  line L20 (1054.1, 1333.5) -> (342.9, 1333.5)
  line L21 (342.9, 1333.5) -> (342.9, 1447.8)
  line L22 (342.9, 1447.8) -> (1054.1, 1447.8)
  line L23 (1054.1, 1447.8) -> (1054.1, 1333.5)
  line L24 (3556, -342.9) -> (4267.2, -342.9)
  line L25 (4267.2, -342.9) -> (4267.2, -457.2)
  line L26 (4267.2, -457.2) -> (3556, -457.2)
  line L27 (3556, -457.2) -> (3556, -342.9)
  line L28 (152.4, -3886.2) -> (-762, -3886.2)
  line L29 (-762, -3886.2) -> (-762, -3733.8)
  line L30 (-762, -3733.8) -> (152.4, -3733.8)
  line L31 (152.4, -3733.8) -> (152.4, -3886.2)
  point P0 (0, 0)
extrude "Extrusion16" add sketch "Sketch15" against normal blind 355.6 contours L3 L2 L1 L0 | L8 L9 L10 L11 | L15 L14 L13 L12 | L19 L18 L17 L16 | L20 L21 L22 L23 | L24 L25 L26 L27 | L28 L29 L30 L31
sketch "Sketch16" plane through (0, 0, 0) normal (0, -1, 0) x (1, 0, 0)
  line L0 (-660.4, -1314.45) -> (-2489.2, -1314.45) projected
  line L1 (-4572, 3886.2) -> (4572, 3886.2)
  line L2 (4572, 3886.2) -> (4572, -3886.2)
  line L3 (4572, -3886.2) -> (-4572, -3886.2)
  line L4 (-4572, -3886.2) -> (-4572, 3886.2)
  line L5 (-660.4, -368.3) -> (-2374.9, -368.3)
  line L6 (-2374.9, -368.3) -> (-2374.9, -1314.45)
  line L7 (-2374.9, -1314.45) -> (-660.4, -1314.45)
  line L8 (-660.4, -1314.45) -> (-660.4, -368.3)
  point P0 (0, 0)
extrude "Extrusion17" add sketch "Sketch16" along normal blind 203.2
sketch "Sketch17" plane through (0, 2438.4, 0) normal (0, 1, 0) x (1, 0, 0)
  line L0 (-203.2, 1079.5) -> (-88.9, 1079.5)
  line L1 (-88.9, 1079.5) -> (-88.9, 622.3)
  line L2 (-88.9, 622.3) -> (-203.2, 622.3)
  line L3 (-203.2, 622.3) -> (-203.2, 1079.5)
  point P0 (0, 0)
extrude "Extrusion18" add sketch "Sketch17" against normal blind 355.6
sketch "Sketch18" plane through (0, 2438.4, 0) normal (0, 1, 0) x (1, 0, 0)
  line L0 (-660.4, 368.3) -> (-4076.7, 368.3) projected
  line L1 (-2489.2, 1314.45) -> (-660.4, 1314.45) projected
  line L2 (-2374.9, 368.3) -> (-2374.9, 1314.45) projected
  line L3 (-2489.2, 1314.45) -> (-2374.9, 1314.45)
  line L4 (-2374.9, 1314.45) -> (-2374.9, 1200.15)
  line L5 (-2374.9, 1200.15) -> (-2489.2, 1200.15)
  line L6 (-2489.2, 1200.15) -> (-2489.2, 1314.45)
  line L7 (-2489.2, 368.3) -> (-2374.9, 368.3)
  line L8 (-2374.9, 368.3) -> (-2374.9, 482.6)
  line L9 (-2374.9, 482.6) -> (-2489.2, 482.6)
  line L10 (-2489.2, 482.6) -> (-2489.2, 368.3)
  line L11 (-2489.2, 482.6) -> (-2374.9, 482.6)
  line L12 (-2374.9, 482.6) -> (-2374.9, 1200.15)
  line L13 (-2374.9, 1200.15) -> (-2489.2, 1200.15)
  line L14 (-2489.2, 1200.15) -> (-2489.2, 482.6)
  line L15 (-2489.2, 482.6) -> (-2374.9, 482.6)
  line L16 (-2374.9, 482.6) -> (-2374.9, 368.3)
  line L17 (-2374.9, 368.3) -> (-2489.2, 368.3)
  line L18 (-2489.2, 368.3) -> (-2489.2, 482.6)
  line L19 (-2489.2, 368.3) -> (-2374.9, 368.3)
  line L20 (-2374.9, 368.3) -> (-2374.9, 1314.45)
  line L21 (-2374.9, 1314.45) -> (-2489.2, 1314.45)
  line L22 (-2489.2, 1314.45) -> (-2489.2, 368.3)
  point P0 (0, 0)
  dimension "d259" = 114.3
  dimension "d260" = 114.3
extrude "Extrusion19" add sketch "Sketch18" against normal blind 355.6 contours L9 L14 L5 L2
extrude "Extrusion20" add sketch "Sketch18" against normal blind 2438.4 contours L0 L10 L9 L2 | L5 L6 L1 L2
properties part number "First Floor"
